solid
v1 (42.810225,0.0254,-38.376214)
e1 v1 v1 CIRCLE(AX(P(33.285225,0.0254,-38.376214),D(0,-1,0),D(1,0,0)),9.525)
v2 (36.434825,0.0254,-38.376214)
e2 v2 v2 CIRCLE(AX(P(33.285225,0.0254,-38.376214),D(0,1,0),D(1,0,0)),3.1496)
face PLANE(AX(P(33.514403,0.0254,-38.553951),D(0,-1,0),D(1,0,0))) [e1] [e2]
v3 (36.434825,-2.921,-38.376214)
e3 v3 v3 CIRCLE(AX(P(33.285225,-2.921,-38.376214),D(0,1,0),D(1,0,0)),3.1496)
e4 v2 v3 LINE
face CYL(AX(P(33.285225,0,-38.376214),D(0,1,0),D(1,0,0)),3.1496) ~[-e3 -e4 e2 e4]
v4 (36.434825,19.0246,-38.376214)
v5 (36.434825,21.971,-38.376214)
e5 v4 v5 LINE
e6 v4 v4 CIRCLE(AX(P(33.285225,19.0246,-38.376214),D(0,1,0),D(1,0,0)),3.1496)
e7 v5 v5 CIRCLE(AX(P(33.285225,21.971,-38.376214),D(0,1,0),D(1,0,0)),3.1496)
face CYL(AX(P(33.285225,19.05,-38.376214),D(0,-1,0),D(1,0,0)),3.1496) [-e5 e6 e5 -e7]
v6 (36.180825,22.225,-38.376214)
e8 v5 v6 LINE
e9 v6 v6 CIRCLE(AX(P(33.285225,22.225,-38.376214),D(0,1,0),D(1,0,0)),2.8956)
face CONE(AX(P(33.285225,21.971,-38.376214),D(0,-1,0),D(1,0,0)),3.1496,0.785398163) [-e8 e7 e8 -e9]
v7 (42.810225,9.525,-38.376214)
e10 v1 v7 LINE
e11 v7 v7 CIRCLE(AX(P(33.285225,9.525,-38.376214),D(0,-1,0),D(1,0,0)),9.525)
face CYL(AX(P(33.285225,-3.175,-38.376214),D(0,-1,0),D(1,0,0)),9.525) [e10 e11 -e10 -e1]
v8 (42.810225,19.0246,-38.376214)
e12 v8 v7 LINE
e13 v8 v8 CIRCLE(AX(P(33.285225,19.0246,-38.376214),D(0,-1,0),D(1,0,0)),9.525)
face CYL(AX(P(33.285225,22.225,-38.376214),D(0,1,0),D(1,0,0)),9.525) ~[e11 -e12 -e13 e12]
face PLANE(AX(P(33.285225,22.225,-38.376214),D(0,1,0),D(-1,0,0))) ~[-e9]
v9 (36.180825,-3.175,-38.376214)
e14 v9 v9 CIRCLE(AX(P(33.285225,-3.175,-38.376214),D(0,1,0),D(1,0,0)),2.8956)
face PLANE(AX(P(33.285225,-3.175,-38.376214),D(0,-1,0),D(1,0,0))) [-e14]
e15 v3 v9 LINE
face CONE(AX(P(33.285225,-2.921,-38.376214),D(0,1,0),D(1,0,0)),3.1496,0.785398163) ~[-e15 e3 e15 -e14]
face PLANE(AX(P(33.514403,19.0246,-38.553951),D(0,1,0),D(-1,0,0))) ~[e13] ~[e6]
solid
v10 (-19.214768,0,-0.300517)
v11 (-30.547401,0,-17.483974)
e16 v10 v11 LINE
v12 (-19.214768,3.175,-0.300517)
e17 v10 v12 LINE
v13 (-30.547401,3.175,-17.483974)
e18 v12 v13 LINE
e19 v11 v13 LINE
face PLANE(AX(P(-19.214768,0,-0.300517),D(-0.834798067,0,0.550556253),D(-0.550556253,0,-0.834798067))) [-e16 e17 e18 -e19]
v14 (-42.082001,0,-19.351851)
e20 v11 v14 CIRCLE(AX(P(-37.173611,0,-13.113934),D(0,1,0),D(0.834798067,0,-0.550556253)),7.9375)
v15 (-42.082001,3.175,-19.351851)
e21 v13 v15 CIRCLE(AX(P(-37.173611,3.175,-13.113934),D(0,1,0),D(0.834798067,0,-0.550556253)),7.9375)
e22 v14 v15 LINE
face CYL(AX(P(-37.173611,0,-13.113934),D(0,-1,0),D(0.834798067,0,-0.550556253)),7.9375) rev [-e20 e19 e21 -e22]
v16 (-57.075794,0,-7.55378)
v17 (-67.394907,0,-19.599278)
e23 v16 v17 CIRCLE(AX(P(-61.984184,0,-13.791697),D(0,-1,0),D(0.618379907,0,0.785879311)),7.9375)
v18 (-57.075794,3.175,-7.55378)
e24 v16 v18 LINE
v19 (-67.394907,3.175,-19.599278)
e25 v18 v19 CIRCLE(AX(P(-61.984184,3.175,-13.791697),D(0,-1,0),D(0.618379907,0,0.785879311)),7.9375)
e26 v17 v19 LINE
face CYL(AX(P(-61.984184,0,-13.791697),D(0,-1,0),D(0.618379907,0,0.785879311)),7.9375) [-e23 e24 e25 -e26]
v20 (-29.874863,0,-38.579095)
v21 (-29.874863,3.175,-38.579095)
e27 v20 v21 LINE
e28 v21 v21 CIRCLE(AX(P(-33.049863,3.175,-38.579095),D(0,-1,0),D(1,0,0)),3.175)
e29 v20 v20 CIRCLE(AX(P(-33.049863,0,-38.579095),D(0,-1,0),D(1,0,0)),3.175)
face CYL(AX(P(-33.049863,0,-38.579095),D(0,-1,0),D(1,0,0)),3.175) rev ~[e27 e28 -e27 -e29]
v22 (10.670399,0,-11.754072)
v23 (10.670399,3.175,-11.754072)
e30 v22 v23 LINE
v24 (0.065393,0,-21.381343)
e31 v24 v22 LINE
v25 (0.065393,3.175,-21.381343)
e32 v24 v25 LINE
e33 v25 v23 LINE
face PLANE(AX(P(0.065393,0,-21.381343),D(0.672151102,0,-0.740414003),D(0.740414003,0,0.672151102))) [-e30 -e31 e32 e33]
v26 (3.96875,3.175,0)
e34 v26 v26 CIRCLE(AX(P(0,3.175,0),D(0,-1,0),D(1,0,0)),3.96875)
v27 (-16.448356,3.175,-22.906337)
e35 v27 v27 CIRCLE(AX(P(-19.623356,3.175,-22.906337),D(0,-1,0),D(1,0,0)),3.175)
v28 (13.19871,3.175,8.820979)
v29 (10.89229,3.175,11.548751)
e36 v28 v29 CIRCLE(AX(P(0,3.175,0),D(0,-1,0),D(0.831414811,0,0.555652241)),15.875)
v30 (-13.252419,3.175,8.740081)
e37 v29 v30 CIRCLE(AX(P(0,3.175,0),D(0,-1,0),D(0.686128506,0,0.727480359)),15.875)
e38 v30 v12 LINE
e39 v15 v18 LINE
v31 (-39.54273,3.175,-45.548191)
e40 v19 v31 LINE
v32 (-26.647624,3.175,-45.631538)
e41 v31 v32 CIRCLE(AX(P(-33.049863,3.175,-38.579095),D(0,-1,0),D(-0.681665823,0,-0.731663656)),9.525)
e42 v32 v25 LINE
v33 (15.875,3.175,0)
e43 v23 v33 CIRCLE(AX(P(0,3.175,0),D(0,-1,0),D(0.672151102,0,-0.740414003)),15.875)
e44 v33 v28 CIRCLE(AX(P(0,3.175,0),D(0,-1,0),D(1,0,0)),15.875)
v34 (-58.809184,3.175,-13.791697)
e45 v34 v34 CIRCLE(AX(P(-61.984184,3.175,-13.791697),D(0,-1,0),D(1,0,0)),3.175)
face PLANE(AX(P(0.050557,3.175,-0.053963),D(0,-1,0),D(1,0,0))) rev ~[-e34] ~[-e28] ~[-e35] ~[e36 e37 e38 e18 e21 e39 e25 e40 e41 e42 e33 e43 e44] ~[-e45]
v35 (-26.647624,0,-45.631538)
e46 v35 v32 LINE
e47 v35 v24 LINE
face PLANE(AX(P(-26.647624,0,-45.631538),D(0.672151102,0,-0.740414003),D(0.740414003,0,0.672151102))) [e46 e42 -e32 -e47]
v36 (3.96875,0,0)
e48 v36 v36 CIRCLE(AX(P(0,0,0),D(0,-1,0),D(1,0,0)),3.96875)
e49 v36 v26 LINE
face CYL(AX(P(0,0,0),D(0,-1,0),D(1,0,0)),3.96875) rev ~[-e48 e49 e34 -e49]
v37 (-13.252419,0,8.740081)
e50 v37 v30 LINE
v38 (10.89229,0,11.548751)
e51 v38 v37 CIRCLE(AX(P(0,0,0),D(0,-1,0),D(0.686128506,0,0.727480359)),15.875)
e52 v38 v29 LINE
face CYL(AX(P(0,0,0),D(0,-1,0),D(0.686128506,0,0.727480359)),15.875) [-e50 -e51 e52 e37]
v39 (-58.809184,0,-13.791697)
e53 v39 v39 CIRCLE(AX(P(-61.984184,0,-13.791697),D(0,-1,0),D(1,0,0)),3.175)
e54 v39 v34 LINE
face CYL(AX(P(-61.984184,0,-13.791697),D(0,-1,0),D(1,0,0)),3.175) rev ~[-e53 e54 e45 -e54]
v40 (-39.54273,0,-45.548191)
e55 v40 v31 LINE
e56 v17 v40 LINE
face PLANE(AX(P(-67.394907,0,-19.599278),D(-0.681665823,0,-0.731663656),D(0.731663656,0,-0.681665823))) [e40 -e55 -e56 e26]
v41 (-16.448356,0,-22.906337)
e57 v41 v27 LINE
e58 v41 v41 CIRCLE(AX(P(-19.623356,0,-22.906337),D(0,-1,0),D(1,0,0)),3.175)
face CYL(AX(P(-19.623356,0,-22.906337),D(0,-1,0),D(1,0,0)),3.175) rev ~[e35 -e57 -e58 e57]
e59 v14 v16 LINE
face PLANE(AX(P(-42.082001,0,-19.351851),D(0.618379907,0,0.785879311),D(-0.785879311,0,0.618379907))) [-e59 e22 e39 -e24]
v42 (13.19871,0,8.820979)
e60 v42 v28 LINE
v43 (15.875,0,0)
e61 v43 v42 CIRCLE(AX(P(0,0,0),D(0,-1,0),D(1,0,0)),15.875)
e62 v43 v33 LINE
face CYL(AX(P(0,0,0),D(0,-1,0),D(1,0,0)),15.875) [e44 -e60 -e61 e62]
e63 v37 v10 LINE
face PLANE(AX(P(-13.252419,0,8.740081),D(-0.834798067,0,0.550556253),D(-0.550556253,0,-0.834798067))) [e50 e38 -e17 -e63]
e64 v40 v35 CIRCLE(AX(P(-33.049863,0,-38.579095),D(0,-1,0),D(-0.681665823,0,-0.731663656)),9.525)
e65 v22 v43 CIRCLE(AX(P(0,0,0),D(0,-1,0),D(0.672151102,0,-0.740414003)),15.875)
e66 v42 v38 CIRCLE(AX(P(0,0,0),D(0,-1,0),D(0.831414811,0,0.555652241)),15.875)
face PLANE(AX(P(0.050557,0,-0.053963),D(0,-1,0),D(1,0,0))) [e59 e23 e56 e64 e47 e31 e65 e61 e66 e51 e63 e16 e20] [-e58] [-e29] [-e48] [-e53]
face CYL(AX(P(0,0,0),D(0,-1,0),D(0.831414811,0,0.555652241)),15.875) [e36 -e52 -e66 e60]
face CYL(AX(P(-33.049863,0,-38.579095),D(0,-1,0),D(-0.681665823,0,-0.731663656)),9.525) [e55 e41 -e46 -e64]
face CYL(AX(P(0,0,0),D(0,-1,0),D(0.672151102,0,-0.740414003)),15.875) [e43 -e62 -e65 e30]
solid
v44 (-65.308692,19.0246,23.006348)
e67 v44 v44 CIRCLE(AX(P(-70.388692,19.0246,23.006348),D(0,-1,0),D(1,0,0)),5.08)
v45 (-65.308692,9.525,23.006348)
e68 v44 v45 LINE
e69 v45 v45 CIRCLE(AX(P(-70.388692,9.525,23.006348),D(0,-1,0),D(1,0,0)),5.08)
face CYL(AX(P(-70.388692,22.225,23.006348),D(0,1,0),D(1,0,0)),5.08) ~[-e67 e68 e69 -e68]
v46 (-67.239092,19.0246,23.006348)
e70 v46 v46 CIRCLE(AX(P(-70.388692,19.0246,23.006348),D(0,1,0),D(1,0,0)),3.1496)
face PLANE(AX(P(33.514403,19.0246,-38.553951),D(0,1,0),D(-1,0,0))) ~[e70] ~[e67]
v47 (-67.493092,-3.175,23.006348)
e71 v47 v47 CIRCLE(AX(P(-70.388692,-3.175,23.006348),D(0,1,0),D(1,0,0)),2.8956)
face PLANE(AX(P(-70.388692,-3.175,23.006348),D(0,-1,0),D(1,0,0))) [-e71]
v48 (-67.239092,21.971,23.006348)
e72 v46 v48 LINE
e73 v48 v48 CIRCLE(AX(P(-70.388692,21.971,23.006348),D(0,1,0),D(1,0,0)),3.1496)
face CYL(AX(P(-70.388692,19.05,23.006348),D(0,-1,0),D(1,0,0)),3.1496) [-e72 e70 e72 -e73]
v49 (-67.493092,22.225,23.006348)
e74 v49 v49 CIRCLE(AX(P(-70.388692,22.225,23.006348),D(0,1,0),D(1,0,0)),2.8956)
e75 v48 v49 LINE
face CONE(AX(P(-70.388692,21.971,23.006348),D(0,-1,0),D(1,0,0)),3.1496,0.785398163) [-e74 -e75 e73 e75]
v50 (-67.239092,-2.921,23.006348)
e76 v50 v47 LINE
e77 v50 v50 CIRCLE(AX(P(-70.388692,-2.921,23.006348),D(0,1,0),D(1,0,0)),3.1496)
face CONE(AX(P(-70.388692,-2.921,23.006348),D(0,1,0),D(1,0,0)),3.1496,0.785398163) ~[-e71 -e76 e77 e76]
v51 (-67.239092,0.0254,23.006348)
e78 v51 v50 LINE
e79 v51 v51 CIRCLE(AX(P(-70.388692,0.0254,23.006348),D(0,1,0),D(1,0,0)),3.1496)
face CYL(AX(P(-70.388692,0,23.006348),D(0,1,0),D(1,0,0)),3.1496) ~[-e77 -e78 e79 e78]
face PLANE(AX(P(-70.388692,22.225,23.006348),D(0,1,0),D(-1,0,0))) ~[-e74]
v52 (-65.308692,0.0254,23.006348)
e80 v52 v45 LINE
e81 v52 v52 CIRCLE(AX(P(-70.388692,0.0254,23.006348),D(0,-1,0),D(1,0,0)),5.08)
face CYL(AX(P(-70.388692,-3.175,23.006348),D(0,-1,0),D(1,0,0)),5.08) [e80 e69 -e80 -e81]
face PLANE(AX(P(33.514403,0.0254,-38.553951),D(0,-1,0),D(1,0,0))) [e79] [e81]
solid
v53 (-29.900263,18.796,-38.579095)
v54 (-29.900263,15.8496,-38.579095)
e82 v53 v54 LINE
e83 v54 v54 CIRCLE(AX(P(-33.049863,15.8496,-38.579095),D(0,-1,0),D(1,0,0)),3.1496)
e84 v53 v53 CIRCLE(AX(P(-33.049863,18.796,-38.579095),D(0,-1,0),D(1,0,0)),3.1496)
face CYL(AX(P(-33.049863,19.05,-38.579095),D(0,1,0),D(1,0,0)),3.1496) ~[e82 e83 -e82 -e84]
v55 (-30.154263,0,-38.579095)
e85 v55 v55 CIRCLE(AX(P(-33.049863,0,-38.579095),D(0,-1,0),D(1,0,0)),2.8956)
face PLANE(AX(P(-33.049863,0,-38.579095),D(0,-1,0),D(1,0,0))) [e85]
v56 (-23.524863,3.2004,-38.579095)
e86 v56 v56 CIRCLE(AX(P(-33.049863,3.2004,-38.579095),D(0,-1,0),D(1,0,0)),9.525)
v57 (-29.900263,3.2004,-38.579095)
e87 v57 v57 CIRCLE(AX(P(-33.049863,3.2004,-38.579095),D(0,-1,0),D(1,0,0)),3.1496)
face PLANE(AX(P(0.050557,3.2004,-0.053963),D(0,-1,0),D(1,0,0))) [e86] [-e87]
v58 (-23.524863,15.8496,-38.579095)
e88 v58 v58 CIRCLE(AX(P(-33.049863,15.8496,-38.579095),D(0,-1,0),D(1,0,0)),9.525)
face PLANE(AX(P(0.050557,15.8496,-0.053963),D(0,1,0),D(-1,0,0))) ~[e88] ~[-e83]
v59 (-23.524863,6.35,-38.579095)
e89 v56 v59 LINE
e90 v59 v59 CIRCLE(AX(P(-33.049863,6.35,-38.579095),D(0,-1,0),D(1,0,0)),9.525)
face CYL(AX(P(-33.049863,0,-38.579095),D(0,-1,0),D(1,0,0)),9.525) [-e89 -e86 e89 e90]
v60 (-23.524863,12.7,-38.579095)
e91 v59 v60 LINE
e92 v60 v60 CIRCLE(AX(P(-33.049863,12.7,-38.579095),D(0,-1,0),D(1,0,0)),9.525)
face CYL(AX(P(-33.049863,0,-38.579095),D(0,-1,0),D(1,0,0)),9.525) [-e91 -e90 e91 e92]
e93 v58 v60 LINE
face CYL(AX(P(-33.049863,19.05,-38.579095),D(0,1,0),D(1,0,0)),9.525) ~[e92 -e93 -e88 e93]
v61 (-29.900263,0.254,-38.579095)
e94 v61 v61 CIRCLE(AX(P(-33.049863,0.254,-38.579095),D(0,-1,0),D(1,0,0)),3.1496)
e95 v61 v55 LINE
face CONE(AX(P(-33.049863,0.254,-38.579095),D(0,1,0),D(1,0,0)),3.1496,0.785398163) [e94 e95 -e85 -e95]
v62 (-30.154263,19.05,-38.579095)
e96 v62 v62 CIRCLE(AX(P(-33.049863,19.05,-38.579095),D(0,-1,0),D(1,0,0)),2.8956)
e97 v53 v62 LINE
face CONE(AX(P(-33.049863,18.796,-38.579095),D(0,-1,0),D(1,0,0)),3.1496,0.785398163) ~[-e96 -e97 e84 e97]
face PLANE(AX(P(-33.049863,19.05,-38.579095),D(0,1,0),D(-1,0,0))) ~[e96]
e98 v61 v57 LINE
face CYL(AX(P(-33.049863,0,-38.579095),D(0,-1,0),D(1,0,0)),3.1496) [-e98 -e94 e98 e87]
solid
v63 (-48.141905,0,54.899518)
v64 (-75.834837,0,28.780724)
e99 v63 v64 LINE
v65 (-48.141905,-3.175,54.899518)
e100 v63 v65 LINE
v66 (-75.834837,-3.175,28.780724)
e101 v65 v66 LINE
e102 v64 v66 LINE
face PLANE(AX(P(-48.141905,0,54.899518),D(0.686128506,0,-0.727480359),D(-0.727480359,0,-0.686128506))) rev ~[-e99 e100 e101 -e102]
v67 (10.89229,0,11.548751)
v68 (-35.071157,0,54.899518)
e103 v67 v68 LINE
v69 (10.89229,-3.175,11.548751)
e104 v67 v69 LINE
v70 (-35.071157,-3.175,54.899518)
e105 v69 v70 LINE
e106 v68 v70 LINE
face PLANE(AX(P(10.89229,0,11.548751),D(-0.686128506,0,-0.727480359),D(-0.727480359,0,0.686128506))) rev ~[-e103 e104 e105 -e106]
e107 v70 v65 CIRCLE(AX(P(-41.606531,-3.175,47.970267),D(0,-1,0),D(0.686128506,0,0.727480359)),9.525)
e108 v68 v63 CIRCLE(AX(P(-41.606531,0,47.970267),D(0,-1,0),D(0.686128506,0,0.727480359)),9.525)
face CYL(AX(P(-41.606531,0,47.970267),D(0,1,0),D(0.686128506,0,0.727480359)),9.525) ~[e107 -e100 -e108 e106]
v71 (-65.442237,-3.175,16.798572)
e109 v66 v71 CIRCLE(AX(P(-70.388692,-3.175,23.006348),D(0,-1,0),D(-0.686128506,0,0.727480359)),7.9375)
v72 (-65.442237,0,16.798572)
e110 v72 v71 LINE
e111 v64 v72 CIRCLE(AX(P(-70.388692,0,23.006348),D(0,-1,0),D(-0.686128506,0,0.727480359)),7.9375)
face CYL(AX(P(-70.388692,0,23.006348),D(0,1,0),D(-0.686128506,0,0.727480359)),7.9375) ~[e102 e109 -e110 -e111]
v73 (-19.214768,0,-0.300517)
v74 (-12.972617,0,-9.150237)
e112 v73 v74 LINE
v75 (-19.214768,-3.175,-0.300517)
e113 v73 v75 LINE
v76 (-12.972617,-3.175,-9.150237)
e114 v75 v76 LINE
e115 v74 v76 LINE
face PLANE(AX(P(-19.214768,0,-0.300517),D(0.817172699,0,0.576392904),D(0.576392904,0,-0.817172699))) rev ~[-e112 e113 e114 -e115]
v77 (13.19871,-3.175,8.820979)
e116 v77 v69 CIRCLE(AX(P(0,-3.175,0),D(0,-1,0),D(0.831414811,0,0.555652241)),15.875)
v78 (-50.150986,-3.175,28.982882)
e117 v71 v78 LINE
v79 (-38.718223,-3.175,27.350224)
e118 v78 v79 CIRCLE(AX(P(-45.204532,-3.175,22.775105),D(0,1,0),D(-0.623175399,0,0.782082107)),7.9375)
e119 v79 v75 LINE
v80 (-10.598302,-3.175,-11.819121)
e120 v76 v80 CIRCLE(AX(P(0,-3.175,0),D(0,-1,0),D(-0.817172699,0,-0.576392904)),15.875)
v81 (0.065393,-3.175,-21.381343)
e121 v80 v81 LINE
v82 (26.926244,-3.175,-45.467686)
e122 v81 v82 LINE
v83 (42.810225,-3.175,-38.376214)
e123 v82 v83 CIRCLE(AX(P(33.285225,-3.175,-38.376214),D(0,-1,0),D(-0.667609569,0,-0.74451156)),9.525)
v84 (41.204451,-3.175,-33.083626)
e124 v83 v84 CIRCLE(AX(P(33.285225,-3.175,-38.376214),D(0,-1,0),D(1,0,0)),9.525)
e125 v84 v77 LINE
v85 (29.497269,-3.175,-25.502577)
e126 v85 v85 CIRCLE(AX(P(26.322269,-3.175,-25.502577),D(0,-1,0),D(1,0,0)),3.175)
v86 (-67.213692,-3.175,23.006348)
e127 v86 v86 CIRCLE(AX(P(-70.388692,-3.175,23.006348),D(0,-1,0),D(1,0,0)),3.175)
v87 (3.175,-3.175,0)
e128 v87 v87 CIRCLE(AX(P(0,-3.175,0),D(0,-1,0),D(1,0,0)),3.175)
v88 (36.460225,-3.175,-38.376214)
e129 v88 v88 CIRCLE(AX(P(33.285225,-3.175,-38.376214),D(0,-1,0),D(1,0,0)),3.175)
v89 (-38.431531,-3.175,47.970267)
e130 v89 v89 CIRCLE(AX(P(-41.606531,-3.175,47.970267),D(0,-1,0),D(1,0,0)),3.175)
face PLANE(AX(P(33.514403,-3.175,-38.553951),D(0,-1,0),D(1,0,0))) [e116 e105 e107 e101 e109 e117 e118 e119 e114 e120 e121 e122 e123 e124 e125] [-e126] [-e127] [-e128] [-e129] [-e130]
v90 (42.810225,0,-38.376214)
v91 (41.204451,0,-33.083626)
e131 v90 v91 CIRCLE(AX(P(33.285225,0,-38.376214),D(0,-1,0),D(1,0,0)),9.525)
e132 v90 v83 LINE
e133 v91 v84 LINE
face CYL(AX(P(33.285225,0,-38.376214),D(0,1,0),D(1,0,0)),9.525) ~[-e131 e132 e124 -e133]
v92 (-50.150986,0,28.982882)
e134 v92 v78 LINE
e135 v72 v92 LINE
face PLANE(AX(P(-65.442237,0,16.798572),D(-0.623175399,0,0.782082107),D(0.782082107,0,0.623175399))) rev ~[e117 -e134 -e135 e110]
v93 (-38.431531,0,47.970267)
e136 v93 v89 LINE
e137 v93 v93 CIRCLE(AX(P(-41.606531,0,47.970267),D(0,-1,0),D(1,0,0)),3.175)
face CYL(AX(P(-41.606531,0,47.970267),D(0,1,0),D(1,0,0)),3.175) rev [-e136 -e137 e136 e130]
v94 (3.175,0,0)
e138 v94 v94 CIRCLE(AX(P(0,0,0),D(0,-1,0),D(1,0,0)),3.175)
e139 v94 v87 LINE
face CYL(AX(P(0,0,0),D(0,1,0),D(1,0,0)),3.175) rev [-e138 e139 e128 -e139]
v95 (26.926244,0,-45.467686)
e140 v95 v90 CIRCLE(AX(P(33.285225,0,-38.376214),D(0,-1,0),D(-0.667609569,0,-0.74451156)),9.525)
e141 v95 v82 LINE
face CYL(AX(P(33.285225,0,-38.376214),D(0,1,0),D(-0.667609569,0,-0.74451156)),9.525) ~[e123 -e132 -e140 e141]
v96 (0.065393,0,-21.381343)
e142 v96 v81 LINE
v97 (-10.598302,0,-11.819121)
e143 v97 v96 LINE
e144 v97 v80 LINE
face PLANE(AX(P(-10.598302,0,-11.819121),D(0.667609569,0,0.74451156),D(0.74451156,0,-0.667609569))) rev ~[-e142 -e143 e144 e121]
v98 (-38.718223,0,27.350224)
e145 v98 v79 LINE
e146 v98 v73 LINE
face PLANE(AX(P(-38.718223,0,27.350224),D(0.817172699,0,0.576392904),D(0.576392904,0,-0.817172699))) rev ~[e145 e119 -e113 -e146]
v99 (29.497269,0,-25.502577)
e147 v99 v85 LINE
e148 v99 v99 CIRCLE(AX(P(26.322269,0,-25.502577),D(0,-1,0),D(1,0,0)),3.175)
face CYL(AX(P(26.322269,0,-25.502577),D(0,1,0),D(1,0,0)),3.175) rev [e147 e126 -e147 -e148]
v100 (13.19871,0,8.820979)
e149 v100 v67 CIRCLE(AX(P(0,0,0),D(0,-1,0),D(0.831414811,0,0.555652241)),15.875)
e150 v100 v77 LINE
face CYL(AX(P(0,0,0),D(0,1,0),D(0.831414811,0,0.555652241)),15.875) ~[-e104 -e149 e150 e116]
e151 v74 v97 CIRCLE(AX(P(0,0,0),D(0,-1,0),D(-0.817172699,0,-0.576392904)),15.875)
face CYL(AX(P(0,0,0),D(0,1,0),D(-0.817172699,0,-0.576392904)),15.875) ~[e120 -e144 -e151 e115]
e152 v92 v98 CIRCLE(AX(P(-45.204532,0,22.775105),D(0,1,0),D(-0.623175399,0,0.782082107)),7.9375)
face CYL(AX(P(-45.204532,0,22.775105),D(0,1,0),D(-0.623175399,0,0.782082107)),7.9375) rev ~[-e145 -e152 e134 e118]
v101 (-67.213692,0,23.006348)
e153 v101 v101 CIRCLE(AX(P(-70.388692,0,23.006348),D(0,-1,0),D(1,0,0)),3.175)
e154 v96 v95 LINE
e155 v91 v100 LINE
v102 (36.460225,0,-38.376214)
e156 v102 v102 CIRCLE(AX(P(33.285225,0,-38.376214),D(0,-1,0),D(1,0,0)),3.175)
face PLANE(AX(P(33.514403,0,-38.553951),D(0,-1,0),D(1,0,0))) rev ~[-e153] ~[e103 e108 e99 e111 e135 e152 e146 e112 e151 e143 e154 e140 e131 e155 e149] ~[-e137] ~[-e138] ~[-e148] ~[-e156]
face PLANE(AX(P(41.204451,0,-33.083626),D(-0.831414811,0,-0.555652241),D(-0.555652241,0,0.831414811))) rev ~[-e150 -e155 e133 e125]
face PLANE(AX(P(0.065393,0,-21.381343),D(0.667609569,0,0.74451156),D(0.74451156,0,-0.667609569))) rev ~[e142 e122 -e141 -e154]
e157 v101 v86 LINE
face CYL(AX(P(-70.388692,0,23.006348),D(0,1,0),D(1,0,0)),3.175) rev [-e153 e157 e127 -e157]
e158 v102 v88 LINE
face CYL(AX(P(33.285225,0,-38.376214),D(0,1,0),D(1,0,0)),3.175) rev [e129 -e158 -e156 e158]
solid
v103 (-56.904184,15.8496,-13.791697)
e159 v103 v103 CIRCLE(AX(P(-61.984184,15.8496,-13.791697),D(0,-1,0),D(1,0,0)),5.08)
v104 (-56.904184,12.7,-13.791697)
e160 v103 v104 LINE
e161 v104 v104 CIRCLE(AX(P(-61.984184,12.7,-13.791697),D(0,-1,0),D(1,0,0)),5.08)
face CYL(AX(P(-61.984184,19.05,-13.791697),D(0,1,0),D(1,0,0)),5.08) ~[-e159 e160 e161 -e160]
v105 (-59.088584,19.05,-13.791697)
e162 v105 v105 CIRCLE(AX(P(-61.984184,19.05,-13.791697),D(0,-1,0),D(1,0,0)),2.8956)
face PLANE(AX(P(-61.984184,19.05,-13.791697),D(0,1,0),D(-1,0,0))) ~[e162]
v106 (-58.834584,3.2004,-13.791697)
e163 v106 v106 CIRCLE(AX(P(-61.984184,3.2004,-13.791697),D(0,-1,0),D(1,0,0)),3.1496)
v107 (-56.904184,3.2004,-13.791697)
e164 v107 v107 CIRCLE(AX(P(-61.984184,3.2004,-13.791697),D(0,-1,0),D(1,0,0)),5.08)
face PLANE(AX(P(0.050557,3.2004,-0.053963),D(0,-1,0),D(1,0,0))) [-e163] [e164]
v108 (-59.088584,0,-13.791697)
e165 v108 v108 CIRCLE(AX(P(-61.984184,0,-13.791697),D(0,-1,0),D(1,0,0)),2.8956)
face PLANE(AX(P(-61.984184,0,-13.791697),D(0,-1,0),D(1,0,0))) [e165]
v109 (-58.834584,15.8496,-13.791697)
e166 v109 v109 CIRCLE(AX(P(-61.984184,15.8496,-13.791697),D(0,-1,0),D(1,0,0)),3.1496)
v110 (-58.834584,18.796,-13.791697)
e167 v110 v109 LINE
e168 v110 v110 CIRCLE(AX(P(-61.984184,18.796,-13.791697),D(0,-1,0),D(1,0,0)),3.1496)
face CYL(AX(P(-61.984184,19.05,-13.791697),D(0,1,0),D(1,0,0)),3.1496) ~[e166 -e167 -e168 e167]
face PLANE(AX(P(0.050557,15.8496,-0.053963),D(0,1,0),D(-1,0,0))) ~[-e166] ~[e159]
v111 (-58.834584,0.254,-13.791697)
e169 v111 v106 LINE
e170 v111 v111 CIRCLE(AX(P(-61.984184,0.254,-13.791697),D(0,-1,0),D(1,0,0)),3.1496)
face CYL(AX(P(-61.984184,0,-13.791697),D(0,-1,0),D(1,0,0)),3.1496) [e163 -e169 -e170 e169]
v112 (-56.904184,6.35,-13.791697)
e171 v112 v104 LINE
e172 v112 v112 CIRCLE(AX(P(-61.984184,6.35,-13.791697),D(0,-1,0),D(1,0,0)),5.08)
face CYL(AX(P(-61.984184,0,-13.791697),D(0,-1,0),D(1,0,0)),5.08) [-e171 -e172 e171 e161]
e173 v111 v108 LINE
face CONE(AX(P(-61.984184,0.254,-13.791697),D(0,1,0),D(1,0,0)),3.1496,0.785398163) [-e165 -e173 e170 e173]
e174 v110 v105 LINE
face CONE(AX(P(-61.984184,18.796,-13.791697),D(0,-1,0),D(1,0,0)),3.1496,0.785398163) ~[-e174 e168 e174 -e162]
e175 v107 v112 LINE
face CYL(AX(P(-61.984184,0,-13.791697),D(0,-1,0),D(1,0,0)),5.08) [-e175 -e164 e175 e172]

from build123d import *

# Parameters (mm, degrees)
F0_R      = 3.175
F0_R_2    = 3.96875
F2_DEPTH  = 3.175
F3_DEPTH  = 3.175
F4_R      = 9.525
F6_DEPTH  = 12.7
F4_R_2    = 5.08
F5_R      = 9.525
F5_R_2    = 5.08
F7_OFFSET = 0.0254
F8_SIZE   = 0.254
F8_2_SIZE = 0.254
F8_3_SIZE = 0.254
F8_4_SIZE = 0.254


with BuildPart() as f2:
    # F0 (on Front) → F2 (new body)
    with BuildSketch(Plane.XZ):
        with BuildLine():
            ThreePointArc((26.9262440233, -45.4676864135), (37.1682864336, -47.0737686401), (42.8102251661, -38.3762138003))
            ThreePointArc((42.8102251661, -38.3762138003), (42.3999454948, -35.6108027404), (41.2044512386, -33.0836262089))
            ThreePointArc((41.2044512386, -33.0836262089), (27.0442454474, -31.1806737127), (26.9262440233, -45.4676864135))
        make_face()
        with Locations((33.2852251661, -38.3762138003)):
            Circle(F0_R, mode=Mode.SUBTRACT)
        with BuildLine():
            ThreePointArc((-32.0815314576, 47.9702672503), (-32.8608164346, 51.7436071154), (-35.0711574392, 54.8995176744))
            ThreePointArc((-35.0711574392, 54.8995176744), (-41.6065314576, 57.4952672503), (-48.1419054761, 54.8995176744))
            ThreePointArc((-48.1419054761, 54.8995176744), (-45.3798713227, 39.2245522274), (-32.0815314576, 47.9702672503))
        make_face()
        with Locations((-41.6065314576, 47.9702672503)):
            Circle(F0_R, mode=Mode.SUBTRACT)
        with BuildLine():
            ThreePointArc((-62.4511918078, 23.0063483758), (-67.2442419203, 30.2944442282), (-75.8348368232, 28.7807237291))
            ThreePointArc((-75.8348368232, 28.7807237291), (-76.3849752141, 17.8055319436), (-65.4422370763, 16.798571653))
            ThreePointArc((-65.4422370763, 16.798571653), (-63.237943921, 19.5609585706), (-62.4511918078, 23.0063483758))
        make_face()
        with Locations((-70.3886918078, 23.0063483758)):
            Circle(F0_R, mode=Mode.SUBTRACT)
        with BuildLine():
            ThreePointArc((-12.9726166036, -9.1502373442), (-15.8730587934, -0.2482529814), (-13.2524193062, 8.7400805221))
            Line((-13.2524193062, 8.7400805221), (-19.2147683858, -0.3005169703))
            Line((-19.2147683858, -0.3005169703), (-12.9726166036, -9.1502373442))
        make_face()
        with BuildLine():
            Line((-10.5983019047, -11.8191210221), (0.0653932355, -21.3813431455))
            Line((0.0653932355, -21.3813431455), (10.6703987497, -11.7540722953))
            ThreePointArc((10.6703987497, -11.7540722953), (0.0485522706, -15.8749257534), (-10.5983019047, -11.8191210221))
        make_face()
        with BuildLine():
            ThreePointArc((26.9262440233, -45.4676864135), (27.0442454474, -31.1806737127), (41.2044512386, -33.0836262089))
            Line((41.2044512386, -33.0836262089), (13.1987101208, 8.820979319))
            ThreePointArc((13.1987101208, 8.820979319), (15.1912005478, 4.609018433), (15.875, 0))
            ThreePointArc((15.875, 0), (14.5156502636, -6.4274040191), (10.6703987497, -11.7540722953))
            Line((10.6703987497, -11.7540722953), (0.0653932355, -21.3813431455))
            Line((0.0653932355, -21.3813431455), (26.9262440233, -45.4676864135))
        make_face()
        with Locations((26.3222689506, -25.5025770961)):
            Circle(F0_R, mode=Mode.SUBTRACT)
        with BuildLine():
            ThreePointArc((15.875, 0), (15.1912005478, 4.609018433), (13.1987101208, 8.820979319))
            ThreePointArc((13.1987101208, 8.820979319), (12.1224690662, 10.2499448164), (10.8922900307, 11.5487507067))
            ThreePointArc((10.8922900307, 11.5487507067), (-1.834314477, 15.7686687897), (-13.2524193062, 8.7400805221))
            ThreePointArc((-13.2524193062, 8.7400805221), (-15.8730587934, -0.2482529814), (-12.9726166036, -9.1502373442))
            ThreePointArc((-12.9726166036, -9.1502373442), (-11.8607666217, -10.5516747555), (-10.5983019047, -11.8191210221))
            ThreePointArc((-10.5983019047, -11.8191210221), (0.0485522706, -15.8749257534), (10.6703987497, -11.7540722953))
            ThreePointArc((10.6703987497, -11.7540722953), (14.5156502636, -6.4274040191), (15.875, 0))
        make_face()
        Circle(F0_R_2, mode=Mode.SUBTRACT)
        with BuildLine():
            ThreePointArc((-13.2524193062, 8.7400805221), (-1.834314477, 15.7686687897), (10.8922900307, 11.5487507067))
            Line((10.8922900307, 11.5487507067), (-35.0711574392, 54.8995176744))
            ThreePointArc((-35.0711574392, 54.8995176744), (-32.8608164346, 51.7436071154), (-32.0815314576, 47.9702672503))
            ThreePointArc((-32.0815314576, 47.9702672503), (-45.3798713227, 39.2245522274), (-48.1419054761, 54.8995176744))
            Line((-48.1419054761, 54.8995176744), (-75.8348368232, 28.7807237291))
            ThreePointArc((-75.8348368232, 28.7807237291), (-67.2442419203, 30.2944442282), (-62.4511918078, 23.0063483758))
            ThreePointArc((-62.4511918078, 23.0063483758), (-63.237943921, 19.5609585706), (-65.4422370763, 16.798571653))
            Line((-65.4422370763, 16.798571653), (-50.1509863937, 28.9828821829))
            ThreePointArc((-50.1509863937, 28.9828821829), (-44.0823996147, 30.6328866939), (-38.7182233604, 27.3502241323))
            Line((-38.7182233604, 27.3502241323), (-19.2147683858, -0.3005169703))
            Line((-19.2147683858, -0.3005169703), (-13.2524193062, 8.7400805221))
        make_face()
        Circle(F0_R_2)
        Circle(F0_R, mode=Mode.SUBTRACT)
    extrude(amount=F2_DEPTH)


with BuildPart() as f3:
    # F0 (on Front) → F3 (new body)
    with BuildSketch(Plane.XZ):
        with BuildLine():
            ThreePointArc((15.875, 0), (15.1912005478, 4.609018433), (13.1987101208, 8.820979319))
            ThreePointArc((13.1987101208, 8.820979319), (12.1224690662, 10.2499448164), (10.8922900307, 11.5487507067))
            ThreePointArc((10.8922900307, 11.5487507067), (-1.834314477, 15.7686687897), (-13.2524193062, 8.7400805221))
            ThreePointArc((-13.2524193062, 8.7400805221), (-15.8730587934, -0.2482529814), (-12.9726166036, -9.1502373442))
            ThreePointArc((-12.9726166036, -9.1502373442), (-11.8607666217, -10.5516747555), (-10.5983019047, -11.8191210221))
            ThreePointArc((-10.5983019047, -11.8191210221), (0.0485522706, -15.8749257534), (10.6703987497, -11.7540722953))
            ThreePointArc((10.6703987497, -11.7540722953), (14.5156502636, -6.4274040191), (15.875, 0))
        make_face()
        Circle(F0_R_2, mode=Mode.SUBTRACT)
        with BuildLine():
            ThreePointArc((-12.9726166036, -9.1502373442), (-15.8730587934, -0.2482529814), (-13.2524193062, 8.7400805221))
            Line((-13.2524193062, 8.7400805221), (-19.2147683858, -0.3005169703))
            Line((-19.2147683858, -0.3005169703), (-12.9726166036, -9.1502373442))
        make_face()
        with BuildLine():
            Line((-10.5983019047, -11.8191210221), (0.0653932355, -21.3813431455))
            Line((0.0653932355, -21.3813431455), (10.6703987497, -11.7540722953))
            ThreePointArc((10.6703987497, -11.7540722953), (0.0485522706, -15.8749257534), (-10.5983019047, -11.8191210221))
        make_face()
        with BuildLine():
            Line((-26.647623873, -45.6315380732), (0.0653932355, -21.3813431455))
            Line((0.0653932355, -21.3813431455), (-10.5983019047, -11.8191210221))
            ThreePointArc((-10.5983019047, -11.8191210221), (-11.8607666217, -10.5516747555), (-12.9726166036, -9.1502373442))
            Line((-12.9726166036, -9.1502373442), (-19.2147683858, -0.3005169703))
            Line((-19.2147683858, -0.3005169703), (-30.5474012326, -17.4839744853))
            ThreePointArc((-30.5474012326, -17.4839744853), (-35.9047663103, -20.9493627188), (-42.0820013957, -19.3518512525))
            Line((-42.0820013957, -19.3518512525), (-57.0757936348, -7.5537803256))
            ThreePointArc((-57.0757936348, -7.5537803256), (-54.8440071189, -10.3244537385), (-54.0466841448, -13.7916973539))
            ThreePointArc((-54.0466841448, -13.7916973539), (-58.817458973, -21.070142101), (-67.394906617, -19.5992776228))
            Line((-67.394906617, -19.5992776228), (-39.5427300894, -45.5481910186))
            ThreePointArc((-39.5427300894, -45.5481910186), (-36.849933329, -29.8449609995), (-23.5248631228, -38.579094696))
            ThreePointArc((-23.5248631228, -38.579094696), (-24.3404729646, -42.4355371074), (-26.647623873, -45.6315380732))
        make_face()
        with Locations((-19.6233562292, -22.9063374758)):
            Circle(F0_R, mode=Mode.SUBTRACT)
        with BuildLine():
            ThreePointArc((-39.5427300894, -45.5481910186), (-33.1114263313, -48.1038957423), (-26.647623873, -45.6315380732))
            ThreePointArc((-26.647623873, -45.6315380732), (-24.3404729646, -42.4355371074), (-23.5248631228, -38.579094696))
            ThreePointArc((-23.5248631228, -38.579094696), (-36.849933329, -29.8449609995), (-39.5427300894, -45.5481910186))
        make_face()
        with Locations((-33.0498631228, -38.579094696)):
            Circle(F0_R, mode=Mode.SUBTRACT)
        with BuildLine():
            ThreePointArc((-57.0757936348, -7.5537803256), (-68.0121676911, -8.627656241), (-67.394906617, -19.5992776228))
            ThreePointArc((-67.394906617, -19.5992776228), (-58.817458973, -21.070142101), (-54.0466841448, -13.7916973539))
            ThreePointArc((-54.0466841448, -13.7916973539), (-54.8440071189, -10.3244537385), (-57.0757936348, -7.5537803256))
        make_face()
        with Locations((-61.9841841448, -13.7916973539)):
            Circle(F0_R, mode=Mode.SUBTRACT)
    extrude(amount=-F3_DEPTH)


with BuildPart() as f6:
    # F4 (on face) → F6 (new body, through all)
    with BuildSketch(Plane.XZ.offset(3.175)):
        with Locations((33.2852251661, -38.3762138003)):
            Circle(F4_R)
    extrude(amount=-F6_DEPTH)

    # F7: cut F2, F3, each made larger all round first
    f7_tool = offset(f2.part, amount=F7_OFFSET, kind=Kind.INTERSECTION, mode=Mode.PRIVATE)
    add(f7_tool, mode=Mode.SUBTRACT)
    f7_tool1 = offset(f3.part, amount=F7_OFFSET, kind=Kind.INTERSECTION, mode=Mode.PRIVATE)
    add(f7_tool1, mode=Mode.SUBTRACT)

    # F8
    f8_edges = [f6.edges().sort_by_distance(p)[0] for p in [
        (30.135625, -3.175, -38.376214),
    ]]
    chamfer(f8_edges, length=F8_SIZE)



with BuildPart() as f6b:
    # F4 (on face) → F6, piece 2 (new body, through all)
    with BuildSketch(Plane.XZ.offset(3.175)):
        with Locations((-70.3886918078, 23.0063483758)):
            Circle(F4_R_2)
    extrude(amount=-F6_DEPTH)

    # F7: cut F2, F3, each made larger all round first
    f7_tool = offset(f2.part, amount=F7_OFFSET, kind=Kind.INTERSECTION, mode=Mode.PRIVATE)
    add(f7_tool, mode=Mode.SUBTRACT)
    f7_tool1 = offset(f3.part, amount=F7_OFFSET, kind=Kind.INTERSECTION, mode=Mode.PRIVATE)
    add(f7_tool1, mode=Mode.SUBTRACT)

    # F8#4
    f8_4_edges = [f6b.edges().sort_by_distance(p)[0] for p in [
        (-73.538292, -3.175, 23.006348),
    ]]
    chamfer(f8_4_edges, length=F8_4_SIZE)


with BuildPart() as f6c:
    # F5 (on face) → F6, piece 3 (new body, through all)
    with BuildSketch(Plane.XZ):
        with Locations((-33.0498631228, -38.579094696)):
            Circle(F5_R)
    extrude(amount=-F6_DEPTH)

    # F7: cut F2, F3, each made larger all round first
    f7_tool = offset(f2.part, amount=F7_OFFSET, kind=Kind.INTERSECTION, mode=Mode.PRIVATE)
    add(f7_tool, mode=Mode.SUBTRACT)
    f7_tool1 = offset(f3.part, amount=F7_OFFSET, kind=Kind.INTERSECTION, mode=Mode.PRIVATE)
    add(f7_tool1, mode=Mode.SUBTRACT)

    # F8#2
    f8_2_edges = [f6c.edges().sort_by_distance(p)[0] for p in [
        (-36.199463, 0, -38.579095),
    ]]
    chamfer(f8_2_edges, length=F8_2_SIZE)


with BuildPart() as f6d:
    # F5 (on face) → F6, piece 4 (new body, through all)
    with BuildSketch(Plane.XZ):
        with Locations((-61.9841841448, -13.7916973539)):
            Circle(F5_R_2)
    extrude(amount=-F6_DEPTH)

    # F7: cut F2, F3, each made larger all round first
    f7_tool = offset(f2.part, amount=F7_OFFSET, kind=Kind.INTERSECTION, mode=Mode.PRIVATE)
    add(f7_tool, mode=Mode.SUBTRACT)
    f7_tool1 = offset(f3.part, amount=F7_OFFSET, kind=Kind.INTERSECTION, mode=Mode.PRIVATE)
    add(f7_tool1, mode=Mode.SUBTRACT)

    # F8#3
    f8_3_edges = [f6d.edges().sort_by_distance(p)[0] for p in [
        (-65.133784, 0, -13.791697),
    ]]
    chamfer(f8_3_edges, length=F8_3_SIZE)


with BuildPart() as f6_1:
    add(f6.part)

    add(f6b.part)  # F9 merges F6b

    add(f6c.part)  # F9 merges F6c

    add(f6d.part)  # F9 merges F6d
    # F9: F6d, F6c, F6b, F6 across plane
    add(f6d.part.mirror(Plane.XZ.offset(-9.525)))
    add(f6c.part.mirror(Plane.XZ.offset(-9.525)))
    add(f6b.part.mirror(Plane.XZ.offset(-9.525)))
    add(f6.part.mirror(Plane.XZ.offset(-9.525)))


solid = Compound([f2.part, f3.part, f6_1.part])
